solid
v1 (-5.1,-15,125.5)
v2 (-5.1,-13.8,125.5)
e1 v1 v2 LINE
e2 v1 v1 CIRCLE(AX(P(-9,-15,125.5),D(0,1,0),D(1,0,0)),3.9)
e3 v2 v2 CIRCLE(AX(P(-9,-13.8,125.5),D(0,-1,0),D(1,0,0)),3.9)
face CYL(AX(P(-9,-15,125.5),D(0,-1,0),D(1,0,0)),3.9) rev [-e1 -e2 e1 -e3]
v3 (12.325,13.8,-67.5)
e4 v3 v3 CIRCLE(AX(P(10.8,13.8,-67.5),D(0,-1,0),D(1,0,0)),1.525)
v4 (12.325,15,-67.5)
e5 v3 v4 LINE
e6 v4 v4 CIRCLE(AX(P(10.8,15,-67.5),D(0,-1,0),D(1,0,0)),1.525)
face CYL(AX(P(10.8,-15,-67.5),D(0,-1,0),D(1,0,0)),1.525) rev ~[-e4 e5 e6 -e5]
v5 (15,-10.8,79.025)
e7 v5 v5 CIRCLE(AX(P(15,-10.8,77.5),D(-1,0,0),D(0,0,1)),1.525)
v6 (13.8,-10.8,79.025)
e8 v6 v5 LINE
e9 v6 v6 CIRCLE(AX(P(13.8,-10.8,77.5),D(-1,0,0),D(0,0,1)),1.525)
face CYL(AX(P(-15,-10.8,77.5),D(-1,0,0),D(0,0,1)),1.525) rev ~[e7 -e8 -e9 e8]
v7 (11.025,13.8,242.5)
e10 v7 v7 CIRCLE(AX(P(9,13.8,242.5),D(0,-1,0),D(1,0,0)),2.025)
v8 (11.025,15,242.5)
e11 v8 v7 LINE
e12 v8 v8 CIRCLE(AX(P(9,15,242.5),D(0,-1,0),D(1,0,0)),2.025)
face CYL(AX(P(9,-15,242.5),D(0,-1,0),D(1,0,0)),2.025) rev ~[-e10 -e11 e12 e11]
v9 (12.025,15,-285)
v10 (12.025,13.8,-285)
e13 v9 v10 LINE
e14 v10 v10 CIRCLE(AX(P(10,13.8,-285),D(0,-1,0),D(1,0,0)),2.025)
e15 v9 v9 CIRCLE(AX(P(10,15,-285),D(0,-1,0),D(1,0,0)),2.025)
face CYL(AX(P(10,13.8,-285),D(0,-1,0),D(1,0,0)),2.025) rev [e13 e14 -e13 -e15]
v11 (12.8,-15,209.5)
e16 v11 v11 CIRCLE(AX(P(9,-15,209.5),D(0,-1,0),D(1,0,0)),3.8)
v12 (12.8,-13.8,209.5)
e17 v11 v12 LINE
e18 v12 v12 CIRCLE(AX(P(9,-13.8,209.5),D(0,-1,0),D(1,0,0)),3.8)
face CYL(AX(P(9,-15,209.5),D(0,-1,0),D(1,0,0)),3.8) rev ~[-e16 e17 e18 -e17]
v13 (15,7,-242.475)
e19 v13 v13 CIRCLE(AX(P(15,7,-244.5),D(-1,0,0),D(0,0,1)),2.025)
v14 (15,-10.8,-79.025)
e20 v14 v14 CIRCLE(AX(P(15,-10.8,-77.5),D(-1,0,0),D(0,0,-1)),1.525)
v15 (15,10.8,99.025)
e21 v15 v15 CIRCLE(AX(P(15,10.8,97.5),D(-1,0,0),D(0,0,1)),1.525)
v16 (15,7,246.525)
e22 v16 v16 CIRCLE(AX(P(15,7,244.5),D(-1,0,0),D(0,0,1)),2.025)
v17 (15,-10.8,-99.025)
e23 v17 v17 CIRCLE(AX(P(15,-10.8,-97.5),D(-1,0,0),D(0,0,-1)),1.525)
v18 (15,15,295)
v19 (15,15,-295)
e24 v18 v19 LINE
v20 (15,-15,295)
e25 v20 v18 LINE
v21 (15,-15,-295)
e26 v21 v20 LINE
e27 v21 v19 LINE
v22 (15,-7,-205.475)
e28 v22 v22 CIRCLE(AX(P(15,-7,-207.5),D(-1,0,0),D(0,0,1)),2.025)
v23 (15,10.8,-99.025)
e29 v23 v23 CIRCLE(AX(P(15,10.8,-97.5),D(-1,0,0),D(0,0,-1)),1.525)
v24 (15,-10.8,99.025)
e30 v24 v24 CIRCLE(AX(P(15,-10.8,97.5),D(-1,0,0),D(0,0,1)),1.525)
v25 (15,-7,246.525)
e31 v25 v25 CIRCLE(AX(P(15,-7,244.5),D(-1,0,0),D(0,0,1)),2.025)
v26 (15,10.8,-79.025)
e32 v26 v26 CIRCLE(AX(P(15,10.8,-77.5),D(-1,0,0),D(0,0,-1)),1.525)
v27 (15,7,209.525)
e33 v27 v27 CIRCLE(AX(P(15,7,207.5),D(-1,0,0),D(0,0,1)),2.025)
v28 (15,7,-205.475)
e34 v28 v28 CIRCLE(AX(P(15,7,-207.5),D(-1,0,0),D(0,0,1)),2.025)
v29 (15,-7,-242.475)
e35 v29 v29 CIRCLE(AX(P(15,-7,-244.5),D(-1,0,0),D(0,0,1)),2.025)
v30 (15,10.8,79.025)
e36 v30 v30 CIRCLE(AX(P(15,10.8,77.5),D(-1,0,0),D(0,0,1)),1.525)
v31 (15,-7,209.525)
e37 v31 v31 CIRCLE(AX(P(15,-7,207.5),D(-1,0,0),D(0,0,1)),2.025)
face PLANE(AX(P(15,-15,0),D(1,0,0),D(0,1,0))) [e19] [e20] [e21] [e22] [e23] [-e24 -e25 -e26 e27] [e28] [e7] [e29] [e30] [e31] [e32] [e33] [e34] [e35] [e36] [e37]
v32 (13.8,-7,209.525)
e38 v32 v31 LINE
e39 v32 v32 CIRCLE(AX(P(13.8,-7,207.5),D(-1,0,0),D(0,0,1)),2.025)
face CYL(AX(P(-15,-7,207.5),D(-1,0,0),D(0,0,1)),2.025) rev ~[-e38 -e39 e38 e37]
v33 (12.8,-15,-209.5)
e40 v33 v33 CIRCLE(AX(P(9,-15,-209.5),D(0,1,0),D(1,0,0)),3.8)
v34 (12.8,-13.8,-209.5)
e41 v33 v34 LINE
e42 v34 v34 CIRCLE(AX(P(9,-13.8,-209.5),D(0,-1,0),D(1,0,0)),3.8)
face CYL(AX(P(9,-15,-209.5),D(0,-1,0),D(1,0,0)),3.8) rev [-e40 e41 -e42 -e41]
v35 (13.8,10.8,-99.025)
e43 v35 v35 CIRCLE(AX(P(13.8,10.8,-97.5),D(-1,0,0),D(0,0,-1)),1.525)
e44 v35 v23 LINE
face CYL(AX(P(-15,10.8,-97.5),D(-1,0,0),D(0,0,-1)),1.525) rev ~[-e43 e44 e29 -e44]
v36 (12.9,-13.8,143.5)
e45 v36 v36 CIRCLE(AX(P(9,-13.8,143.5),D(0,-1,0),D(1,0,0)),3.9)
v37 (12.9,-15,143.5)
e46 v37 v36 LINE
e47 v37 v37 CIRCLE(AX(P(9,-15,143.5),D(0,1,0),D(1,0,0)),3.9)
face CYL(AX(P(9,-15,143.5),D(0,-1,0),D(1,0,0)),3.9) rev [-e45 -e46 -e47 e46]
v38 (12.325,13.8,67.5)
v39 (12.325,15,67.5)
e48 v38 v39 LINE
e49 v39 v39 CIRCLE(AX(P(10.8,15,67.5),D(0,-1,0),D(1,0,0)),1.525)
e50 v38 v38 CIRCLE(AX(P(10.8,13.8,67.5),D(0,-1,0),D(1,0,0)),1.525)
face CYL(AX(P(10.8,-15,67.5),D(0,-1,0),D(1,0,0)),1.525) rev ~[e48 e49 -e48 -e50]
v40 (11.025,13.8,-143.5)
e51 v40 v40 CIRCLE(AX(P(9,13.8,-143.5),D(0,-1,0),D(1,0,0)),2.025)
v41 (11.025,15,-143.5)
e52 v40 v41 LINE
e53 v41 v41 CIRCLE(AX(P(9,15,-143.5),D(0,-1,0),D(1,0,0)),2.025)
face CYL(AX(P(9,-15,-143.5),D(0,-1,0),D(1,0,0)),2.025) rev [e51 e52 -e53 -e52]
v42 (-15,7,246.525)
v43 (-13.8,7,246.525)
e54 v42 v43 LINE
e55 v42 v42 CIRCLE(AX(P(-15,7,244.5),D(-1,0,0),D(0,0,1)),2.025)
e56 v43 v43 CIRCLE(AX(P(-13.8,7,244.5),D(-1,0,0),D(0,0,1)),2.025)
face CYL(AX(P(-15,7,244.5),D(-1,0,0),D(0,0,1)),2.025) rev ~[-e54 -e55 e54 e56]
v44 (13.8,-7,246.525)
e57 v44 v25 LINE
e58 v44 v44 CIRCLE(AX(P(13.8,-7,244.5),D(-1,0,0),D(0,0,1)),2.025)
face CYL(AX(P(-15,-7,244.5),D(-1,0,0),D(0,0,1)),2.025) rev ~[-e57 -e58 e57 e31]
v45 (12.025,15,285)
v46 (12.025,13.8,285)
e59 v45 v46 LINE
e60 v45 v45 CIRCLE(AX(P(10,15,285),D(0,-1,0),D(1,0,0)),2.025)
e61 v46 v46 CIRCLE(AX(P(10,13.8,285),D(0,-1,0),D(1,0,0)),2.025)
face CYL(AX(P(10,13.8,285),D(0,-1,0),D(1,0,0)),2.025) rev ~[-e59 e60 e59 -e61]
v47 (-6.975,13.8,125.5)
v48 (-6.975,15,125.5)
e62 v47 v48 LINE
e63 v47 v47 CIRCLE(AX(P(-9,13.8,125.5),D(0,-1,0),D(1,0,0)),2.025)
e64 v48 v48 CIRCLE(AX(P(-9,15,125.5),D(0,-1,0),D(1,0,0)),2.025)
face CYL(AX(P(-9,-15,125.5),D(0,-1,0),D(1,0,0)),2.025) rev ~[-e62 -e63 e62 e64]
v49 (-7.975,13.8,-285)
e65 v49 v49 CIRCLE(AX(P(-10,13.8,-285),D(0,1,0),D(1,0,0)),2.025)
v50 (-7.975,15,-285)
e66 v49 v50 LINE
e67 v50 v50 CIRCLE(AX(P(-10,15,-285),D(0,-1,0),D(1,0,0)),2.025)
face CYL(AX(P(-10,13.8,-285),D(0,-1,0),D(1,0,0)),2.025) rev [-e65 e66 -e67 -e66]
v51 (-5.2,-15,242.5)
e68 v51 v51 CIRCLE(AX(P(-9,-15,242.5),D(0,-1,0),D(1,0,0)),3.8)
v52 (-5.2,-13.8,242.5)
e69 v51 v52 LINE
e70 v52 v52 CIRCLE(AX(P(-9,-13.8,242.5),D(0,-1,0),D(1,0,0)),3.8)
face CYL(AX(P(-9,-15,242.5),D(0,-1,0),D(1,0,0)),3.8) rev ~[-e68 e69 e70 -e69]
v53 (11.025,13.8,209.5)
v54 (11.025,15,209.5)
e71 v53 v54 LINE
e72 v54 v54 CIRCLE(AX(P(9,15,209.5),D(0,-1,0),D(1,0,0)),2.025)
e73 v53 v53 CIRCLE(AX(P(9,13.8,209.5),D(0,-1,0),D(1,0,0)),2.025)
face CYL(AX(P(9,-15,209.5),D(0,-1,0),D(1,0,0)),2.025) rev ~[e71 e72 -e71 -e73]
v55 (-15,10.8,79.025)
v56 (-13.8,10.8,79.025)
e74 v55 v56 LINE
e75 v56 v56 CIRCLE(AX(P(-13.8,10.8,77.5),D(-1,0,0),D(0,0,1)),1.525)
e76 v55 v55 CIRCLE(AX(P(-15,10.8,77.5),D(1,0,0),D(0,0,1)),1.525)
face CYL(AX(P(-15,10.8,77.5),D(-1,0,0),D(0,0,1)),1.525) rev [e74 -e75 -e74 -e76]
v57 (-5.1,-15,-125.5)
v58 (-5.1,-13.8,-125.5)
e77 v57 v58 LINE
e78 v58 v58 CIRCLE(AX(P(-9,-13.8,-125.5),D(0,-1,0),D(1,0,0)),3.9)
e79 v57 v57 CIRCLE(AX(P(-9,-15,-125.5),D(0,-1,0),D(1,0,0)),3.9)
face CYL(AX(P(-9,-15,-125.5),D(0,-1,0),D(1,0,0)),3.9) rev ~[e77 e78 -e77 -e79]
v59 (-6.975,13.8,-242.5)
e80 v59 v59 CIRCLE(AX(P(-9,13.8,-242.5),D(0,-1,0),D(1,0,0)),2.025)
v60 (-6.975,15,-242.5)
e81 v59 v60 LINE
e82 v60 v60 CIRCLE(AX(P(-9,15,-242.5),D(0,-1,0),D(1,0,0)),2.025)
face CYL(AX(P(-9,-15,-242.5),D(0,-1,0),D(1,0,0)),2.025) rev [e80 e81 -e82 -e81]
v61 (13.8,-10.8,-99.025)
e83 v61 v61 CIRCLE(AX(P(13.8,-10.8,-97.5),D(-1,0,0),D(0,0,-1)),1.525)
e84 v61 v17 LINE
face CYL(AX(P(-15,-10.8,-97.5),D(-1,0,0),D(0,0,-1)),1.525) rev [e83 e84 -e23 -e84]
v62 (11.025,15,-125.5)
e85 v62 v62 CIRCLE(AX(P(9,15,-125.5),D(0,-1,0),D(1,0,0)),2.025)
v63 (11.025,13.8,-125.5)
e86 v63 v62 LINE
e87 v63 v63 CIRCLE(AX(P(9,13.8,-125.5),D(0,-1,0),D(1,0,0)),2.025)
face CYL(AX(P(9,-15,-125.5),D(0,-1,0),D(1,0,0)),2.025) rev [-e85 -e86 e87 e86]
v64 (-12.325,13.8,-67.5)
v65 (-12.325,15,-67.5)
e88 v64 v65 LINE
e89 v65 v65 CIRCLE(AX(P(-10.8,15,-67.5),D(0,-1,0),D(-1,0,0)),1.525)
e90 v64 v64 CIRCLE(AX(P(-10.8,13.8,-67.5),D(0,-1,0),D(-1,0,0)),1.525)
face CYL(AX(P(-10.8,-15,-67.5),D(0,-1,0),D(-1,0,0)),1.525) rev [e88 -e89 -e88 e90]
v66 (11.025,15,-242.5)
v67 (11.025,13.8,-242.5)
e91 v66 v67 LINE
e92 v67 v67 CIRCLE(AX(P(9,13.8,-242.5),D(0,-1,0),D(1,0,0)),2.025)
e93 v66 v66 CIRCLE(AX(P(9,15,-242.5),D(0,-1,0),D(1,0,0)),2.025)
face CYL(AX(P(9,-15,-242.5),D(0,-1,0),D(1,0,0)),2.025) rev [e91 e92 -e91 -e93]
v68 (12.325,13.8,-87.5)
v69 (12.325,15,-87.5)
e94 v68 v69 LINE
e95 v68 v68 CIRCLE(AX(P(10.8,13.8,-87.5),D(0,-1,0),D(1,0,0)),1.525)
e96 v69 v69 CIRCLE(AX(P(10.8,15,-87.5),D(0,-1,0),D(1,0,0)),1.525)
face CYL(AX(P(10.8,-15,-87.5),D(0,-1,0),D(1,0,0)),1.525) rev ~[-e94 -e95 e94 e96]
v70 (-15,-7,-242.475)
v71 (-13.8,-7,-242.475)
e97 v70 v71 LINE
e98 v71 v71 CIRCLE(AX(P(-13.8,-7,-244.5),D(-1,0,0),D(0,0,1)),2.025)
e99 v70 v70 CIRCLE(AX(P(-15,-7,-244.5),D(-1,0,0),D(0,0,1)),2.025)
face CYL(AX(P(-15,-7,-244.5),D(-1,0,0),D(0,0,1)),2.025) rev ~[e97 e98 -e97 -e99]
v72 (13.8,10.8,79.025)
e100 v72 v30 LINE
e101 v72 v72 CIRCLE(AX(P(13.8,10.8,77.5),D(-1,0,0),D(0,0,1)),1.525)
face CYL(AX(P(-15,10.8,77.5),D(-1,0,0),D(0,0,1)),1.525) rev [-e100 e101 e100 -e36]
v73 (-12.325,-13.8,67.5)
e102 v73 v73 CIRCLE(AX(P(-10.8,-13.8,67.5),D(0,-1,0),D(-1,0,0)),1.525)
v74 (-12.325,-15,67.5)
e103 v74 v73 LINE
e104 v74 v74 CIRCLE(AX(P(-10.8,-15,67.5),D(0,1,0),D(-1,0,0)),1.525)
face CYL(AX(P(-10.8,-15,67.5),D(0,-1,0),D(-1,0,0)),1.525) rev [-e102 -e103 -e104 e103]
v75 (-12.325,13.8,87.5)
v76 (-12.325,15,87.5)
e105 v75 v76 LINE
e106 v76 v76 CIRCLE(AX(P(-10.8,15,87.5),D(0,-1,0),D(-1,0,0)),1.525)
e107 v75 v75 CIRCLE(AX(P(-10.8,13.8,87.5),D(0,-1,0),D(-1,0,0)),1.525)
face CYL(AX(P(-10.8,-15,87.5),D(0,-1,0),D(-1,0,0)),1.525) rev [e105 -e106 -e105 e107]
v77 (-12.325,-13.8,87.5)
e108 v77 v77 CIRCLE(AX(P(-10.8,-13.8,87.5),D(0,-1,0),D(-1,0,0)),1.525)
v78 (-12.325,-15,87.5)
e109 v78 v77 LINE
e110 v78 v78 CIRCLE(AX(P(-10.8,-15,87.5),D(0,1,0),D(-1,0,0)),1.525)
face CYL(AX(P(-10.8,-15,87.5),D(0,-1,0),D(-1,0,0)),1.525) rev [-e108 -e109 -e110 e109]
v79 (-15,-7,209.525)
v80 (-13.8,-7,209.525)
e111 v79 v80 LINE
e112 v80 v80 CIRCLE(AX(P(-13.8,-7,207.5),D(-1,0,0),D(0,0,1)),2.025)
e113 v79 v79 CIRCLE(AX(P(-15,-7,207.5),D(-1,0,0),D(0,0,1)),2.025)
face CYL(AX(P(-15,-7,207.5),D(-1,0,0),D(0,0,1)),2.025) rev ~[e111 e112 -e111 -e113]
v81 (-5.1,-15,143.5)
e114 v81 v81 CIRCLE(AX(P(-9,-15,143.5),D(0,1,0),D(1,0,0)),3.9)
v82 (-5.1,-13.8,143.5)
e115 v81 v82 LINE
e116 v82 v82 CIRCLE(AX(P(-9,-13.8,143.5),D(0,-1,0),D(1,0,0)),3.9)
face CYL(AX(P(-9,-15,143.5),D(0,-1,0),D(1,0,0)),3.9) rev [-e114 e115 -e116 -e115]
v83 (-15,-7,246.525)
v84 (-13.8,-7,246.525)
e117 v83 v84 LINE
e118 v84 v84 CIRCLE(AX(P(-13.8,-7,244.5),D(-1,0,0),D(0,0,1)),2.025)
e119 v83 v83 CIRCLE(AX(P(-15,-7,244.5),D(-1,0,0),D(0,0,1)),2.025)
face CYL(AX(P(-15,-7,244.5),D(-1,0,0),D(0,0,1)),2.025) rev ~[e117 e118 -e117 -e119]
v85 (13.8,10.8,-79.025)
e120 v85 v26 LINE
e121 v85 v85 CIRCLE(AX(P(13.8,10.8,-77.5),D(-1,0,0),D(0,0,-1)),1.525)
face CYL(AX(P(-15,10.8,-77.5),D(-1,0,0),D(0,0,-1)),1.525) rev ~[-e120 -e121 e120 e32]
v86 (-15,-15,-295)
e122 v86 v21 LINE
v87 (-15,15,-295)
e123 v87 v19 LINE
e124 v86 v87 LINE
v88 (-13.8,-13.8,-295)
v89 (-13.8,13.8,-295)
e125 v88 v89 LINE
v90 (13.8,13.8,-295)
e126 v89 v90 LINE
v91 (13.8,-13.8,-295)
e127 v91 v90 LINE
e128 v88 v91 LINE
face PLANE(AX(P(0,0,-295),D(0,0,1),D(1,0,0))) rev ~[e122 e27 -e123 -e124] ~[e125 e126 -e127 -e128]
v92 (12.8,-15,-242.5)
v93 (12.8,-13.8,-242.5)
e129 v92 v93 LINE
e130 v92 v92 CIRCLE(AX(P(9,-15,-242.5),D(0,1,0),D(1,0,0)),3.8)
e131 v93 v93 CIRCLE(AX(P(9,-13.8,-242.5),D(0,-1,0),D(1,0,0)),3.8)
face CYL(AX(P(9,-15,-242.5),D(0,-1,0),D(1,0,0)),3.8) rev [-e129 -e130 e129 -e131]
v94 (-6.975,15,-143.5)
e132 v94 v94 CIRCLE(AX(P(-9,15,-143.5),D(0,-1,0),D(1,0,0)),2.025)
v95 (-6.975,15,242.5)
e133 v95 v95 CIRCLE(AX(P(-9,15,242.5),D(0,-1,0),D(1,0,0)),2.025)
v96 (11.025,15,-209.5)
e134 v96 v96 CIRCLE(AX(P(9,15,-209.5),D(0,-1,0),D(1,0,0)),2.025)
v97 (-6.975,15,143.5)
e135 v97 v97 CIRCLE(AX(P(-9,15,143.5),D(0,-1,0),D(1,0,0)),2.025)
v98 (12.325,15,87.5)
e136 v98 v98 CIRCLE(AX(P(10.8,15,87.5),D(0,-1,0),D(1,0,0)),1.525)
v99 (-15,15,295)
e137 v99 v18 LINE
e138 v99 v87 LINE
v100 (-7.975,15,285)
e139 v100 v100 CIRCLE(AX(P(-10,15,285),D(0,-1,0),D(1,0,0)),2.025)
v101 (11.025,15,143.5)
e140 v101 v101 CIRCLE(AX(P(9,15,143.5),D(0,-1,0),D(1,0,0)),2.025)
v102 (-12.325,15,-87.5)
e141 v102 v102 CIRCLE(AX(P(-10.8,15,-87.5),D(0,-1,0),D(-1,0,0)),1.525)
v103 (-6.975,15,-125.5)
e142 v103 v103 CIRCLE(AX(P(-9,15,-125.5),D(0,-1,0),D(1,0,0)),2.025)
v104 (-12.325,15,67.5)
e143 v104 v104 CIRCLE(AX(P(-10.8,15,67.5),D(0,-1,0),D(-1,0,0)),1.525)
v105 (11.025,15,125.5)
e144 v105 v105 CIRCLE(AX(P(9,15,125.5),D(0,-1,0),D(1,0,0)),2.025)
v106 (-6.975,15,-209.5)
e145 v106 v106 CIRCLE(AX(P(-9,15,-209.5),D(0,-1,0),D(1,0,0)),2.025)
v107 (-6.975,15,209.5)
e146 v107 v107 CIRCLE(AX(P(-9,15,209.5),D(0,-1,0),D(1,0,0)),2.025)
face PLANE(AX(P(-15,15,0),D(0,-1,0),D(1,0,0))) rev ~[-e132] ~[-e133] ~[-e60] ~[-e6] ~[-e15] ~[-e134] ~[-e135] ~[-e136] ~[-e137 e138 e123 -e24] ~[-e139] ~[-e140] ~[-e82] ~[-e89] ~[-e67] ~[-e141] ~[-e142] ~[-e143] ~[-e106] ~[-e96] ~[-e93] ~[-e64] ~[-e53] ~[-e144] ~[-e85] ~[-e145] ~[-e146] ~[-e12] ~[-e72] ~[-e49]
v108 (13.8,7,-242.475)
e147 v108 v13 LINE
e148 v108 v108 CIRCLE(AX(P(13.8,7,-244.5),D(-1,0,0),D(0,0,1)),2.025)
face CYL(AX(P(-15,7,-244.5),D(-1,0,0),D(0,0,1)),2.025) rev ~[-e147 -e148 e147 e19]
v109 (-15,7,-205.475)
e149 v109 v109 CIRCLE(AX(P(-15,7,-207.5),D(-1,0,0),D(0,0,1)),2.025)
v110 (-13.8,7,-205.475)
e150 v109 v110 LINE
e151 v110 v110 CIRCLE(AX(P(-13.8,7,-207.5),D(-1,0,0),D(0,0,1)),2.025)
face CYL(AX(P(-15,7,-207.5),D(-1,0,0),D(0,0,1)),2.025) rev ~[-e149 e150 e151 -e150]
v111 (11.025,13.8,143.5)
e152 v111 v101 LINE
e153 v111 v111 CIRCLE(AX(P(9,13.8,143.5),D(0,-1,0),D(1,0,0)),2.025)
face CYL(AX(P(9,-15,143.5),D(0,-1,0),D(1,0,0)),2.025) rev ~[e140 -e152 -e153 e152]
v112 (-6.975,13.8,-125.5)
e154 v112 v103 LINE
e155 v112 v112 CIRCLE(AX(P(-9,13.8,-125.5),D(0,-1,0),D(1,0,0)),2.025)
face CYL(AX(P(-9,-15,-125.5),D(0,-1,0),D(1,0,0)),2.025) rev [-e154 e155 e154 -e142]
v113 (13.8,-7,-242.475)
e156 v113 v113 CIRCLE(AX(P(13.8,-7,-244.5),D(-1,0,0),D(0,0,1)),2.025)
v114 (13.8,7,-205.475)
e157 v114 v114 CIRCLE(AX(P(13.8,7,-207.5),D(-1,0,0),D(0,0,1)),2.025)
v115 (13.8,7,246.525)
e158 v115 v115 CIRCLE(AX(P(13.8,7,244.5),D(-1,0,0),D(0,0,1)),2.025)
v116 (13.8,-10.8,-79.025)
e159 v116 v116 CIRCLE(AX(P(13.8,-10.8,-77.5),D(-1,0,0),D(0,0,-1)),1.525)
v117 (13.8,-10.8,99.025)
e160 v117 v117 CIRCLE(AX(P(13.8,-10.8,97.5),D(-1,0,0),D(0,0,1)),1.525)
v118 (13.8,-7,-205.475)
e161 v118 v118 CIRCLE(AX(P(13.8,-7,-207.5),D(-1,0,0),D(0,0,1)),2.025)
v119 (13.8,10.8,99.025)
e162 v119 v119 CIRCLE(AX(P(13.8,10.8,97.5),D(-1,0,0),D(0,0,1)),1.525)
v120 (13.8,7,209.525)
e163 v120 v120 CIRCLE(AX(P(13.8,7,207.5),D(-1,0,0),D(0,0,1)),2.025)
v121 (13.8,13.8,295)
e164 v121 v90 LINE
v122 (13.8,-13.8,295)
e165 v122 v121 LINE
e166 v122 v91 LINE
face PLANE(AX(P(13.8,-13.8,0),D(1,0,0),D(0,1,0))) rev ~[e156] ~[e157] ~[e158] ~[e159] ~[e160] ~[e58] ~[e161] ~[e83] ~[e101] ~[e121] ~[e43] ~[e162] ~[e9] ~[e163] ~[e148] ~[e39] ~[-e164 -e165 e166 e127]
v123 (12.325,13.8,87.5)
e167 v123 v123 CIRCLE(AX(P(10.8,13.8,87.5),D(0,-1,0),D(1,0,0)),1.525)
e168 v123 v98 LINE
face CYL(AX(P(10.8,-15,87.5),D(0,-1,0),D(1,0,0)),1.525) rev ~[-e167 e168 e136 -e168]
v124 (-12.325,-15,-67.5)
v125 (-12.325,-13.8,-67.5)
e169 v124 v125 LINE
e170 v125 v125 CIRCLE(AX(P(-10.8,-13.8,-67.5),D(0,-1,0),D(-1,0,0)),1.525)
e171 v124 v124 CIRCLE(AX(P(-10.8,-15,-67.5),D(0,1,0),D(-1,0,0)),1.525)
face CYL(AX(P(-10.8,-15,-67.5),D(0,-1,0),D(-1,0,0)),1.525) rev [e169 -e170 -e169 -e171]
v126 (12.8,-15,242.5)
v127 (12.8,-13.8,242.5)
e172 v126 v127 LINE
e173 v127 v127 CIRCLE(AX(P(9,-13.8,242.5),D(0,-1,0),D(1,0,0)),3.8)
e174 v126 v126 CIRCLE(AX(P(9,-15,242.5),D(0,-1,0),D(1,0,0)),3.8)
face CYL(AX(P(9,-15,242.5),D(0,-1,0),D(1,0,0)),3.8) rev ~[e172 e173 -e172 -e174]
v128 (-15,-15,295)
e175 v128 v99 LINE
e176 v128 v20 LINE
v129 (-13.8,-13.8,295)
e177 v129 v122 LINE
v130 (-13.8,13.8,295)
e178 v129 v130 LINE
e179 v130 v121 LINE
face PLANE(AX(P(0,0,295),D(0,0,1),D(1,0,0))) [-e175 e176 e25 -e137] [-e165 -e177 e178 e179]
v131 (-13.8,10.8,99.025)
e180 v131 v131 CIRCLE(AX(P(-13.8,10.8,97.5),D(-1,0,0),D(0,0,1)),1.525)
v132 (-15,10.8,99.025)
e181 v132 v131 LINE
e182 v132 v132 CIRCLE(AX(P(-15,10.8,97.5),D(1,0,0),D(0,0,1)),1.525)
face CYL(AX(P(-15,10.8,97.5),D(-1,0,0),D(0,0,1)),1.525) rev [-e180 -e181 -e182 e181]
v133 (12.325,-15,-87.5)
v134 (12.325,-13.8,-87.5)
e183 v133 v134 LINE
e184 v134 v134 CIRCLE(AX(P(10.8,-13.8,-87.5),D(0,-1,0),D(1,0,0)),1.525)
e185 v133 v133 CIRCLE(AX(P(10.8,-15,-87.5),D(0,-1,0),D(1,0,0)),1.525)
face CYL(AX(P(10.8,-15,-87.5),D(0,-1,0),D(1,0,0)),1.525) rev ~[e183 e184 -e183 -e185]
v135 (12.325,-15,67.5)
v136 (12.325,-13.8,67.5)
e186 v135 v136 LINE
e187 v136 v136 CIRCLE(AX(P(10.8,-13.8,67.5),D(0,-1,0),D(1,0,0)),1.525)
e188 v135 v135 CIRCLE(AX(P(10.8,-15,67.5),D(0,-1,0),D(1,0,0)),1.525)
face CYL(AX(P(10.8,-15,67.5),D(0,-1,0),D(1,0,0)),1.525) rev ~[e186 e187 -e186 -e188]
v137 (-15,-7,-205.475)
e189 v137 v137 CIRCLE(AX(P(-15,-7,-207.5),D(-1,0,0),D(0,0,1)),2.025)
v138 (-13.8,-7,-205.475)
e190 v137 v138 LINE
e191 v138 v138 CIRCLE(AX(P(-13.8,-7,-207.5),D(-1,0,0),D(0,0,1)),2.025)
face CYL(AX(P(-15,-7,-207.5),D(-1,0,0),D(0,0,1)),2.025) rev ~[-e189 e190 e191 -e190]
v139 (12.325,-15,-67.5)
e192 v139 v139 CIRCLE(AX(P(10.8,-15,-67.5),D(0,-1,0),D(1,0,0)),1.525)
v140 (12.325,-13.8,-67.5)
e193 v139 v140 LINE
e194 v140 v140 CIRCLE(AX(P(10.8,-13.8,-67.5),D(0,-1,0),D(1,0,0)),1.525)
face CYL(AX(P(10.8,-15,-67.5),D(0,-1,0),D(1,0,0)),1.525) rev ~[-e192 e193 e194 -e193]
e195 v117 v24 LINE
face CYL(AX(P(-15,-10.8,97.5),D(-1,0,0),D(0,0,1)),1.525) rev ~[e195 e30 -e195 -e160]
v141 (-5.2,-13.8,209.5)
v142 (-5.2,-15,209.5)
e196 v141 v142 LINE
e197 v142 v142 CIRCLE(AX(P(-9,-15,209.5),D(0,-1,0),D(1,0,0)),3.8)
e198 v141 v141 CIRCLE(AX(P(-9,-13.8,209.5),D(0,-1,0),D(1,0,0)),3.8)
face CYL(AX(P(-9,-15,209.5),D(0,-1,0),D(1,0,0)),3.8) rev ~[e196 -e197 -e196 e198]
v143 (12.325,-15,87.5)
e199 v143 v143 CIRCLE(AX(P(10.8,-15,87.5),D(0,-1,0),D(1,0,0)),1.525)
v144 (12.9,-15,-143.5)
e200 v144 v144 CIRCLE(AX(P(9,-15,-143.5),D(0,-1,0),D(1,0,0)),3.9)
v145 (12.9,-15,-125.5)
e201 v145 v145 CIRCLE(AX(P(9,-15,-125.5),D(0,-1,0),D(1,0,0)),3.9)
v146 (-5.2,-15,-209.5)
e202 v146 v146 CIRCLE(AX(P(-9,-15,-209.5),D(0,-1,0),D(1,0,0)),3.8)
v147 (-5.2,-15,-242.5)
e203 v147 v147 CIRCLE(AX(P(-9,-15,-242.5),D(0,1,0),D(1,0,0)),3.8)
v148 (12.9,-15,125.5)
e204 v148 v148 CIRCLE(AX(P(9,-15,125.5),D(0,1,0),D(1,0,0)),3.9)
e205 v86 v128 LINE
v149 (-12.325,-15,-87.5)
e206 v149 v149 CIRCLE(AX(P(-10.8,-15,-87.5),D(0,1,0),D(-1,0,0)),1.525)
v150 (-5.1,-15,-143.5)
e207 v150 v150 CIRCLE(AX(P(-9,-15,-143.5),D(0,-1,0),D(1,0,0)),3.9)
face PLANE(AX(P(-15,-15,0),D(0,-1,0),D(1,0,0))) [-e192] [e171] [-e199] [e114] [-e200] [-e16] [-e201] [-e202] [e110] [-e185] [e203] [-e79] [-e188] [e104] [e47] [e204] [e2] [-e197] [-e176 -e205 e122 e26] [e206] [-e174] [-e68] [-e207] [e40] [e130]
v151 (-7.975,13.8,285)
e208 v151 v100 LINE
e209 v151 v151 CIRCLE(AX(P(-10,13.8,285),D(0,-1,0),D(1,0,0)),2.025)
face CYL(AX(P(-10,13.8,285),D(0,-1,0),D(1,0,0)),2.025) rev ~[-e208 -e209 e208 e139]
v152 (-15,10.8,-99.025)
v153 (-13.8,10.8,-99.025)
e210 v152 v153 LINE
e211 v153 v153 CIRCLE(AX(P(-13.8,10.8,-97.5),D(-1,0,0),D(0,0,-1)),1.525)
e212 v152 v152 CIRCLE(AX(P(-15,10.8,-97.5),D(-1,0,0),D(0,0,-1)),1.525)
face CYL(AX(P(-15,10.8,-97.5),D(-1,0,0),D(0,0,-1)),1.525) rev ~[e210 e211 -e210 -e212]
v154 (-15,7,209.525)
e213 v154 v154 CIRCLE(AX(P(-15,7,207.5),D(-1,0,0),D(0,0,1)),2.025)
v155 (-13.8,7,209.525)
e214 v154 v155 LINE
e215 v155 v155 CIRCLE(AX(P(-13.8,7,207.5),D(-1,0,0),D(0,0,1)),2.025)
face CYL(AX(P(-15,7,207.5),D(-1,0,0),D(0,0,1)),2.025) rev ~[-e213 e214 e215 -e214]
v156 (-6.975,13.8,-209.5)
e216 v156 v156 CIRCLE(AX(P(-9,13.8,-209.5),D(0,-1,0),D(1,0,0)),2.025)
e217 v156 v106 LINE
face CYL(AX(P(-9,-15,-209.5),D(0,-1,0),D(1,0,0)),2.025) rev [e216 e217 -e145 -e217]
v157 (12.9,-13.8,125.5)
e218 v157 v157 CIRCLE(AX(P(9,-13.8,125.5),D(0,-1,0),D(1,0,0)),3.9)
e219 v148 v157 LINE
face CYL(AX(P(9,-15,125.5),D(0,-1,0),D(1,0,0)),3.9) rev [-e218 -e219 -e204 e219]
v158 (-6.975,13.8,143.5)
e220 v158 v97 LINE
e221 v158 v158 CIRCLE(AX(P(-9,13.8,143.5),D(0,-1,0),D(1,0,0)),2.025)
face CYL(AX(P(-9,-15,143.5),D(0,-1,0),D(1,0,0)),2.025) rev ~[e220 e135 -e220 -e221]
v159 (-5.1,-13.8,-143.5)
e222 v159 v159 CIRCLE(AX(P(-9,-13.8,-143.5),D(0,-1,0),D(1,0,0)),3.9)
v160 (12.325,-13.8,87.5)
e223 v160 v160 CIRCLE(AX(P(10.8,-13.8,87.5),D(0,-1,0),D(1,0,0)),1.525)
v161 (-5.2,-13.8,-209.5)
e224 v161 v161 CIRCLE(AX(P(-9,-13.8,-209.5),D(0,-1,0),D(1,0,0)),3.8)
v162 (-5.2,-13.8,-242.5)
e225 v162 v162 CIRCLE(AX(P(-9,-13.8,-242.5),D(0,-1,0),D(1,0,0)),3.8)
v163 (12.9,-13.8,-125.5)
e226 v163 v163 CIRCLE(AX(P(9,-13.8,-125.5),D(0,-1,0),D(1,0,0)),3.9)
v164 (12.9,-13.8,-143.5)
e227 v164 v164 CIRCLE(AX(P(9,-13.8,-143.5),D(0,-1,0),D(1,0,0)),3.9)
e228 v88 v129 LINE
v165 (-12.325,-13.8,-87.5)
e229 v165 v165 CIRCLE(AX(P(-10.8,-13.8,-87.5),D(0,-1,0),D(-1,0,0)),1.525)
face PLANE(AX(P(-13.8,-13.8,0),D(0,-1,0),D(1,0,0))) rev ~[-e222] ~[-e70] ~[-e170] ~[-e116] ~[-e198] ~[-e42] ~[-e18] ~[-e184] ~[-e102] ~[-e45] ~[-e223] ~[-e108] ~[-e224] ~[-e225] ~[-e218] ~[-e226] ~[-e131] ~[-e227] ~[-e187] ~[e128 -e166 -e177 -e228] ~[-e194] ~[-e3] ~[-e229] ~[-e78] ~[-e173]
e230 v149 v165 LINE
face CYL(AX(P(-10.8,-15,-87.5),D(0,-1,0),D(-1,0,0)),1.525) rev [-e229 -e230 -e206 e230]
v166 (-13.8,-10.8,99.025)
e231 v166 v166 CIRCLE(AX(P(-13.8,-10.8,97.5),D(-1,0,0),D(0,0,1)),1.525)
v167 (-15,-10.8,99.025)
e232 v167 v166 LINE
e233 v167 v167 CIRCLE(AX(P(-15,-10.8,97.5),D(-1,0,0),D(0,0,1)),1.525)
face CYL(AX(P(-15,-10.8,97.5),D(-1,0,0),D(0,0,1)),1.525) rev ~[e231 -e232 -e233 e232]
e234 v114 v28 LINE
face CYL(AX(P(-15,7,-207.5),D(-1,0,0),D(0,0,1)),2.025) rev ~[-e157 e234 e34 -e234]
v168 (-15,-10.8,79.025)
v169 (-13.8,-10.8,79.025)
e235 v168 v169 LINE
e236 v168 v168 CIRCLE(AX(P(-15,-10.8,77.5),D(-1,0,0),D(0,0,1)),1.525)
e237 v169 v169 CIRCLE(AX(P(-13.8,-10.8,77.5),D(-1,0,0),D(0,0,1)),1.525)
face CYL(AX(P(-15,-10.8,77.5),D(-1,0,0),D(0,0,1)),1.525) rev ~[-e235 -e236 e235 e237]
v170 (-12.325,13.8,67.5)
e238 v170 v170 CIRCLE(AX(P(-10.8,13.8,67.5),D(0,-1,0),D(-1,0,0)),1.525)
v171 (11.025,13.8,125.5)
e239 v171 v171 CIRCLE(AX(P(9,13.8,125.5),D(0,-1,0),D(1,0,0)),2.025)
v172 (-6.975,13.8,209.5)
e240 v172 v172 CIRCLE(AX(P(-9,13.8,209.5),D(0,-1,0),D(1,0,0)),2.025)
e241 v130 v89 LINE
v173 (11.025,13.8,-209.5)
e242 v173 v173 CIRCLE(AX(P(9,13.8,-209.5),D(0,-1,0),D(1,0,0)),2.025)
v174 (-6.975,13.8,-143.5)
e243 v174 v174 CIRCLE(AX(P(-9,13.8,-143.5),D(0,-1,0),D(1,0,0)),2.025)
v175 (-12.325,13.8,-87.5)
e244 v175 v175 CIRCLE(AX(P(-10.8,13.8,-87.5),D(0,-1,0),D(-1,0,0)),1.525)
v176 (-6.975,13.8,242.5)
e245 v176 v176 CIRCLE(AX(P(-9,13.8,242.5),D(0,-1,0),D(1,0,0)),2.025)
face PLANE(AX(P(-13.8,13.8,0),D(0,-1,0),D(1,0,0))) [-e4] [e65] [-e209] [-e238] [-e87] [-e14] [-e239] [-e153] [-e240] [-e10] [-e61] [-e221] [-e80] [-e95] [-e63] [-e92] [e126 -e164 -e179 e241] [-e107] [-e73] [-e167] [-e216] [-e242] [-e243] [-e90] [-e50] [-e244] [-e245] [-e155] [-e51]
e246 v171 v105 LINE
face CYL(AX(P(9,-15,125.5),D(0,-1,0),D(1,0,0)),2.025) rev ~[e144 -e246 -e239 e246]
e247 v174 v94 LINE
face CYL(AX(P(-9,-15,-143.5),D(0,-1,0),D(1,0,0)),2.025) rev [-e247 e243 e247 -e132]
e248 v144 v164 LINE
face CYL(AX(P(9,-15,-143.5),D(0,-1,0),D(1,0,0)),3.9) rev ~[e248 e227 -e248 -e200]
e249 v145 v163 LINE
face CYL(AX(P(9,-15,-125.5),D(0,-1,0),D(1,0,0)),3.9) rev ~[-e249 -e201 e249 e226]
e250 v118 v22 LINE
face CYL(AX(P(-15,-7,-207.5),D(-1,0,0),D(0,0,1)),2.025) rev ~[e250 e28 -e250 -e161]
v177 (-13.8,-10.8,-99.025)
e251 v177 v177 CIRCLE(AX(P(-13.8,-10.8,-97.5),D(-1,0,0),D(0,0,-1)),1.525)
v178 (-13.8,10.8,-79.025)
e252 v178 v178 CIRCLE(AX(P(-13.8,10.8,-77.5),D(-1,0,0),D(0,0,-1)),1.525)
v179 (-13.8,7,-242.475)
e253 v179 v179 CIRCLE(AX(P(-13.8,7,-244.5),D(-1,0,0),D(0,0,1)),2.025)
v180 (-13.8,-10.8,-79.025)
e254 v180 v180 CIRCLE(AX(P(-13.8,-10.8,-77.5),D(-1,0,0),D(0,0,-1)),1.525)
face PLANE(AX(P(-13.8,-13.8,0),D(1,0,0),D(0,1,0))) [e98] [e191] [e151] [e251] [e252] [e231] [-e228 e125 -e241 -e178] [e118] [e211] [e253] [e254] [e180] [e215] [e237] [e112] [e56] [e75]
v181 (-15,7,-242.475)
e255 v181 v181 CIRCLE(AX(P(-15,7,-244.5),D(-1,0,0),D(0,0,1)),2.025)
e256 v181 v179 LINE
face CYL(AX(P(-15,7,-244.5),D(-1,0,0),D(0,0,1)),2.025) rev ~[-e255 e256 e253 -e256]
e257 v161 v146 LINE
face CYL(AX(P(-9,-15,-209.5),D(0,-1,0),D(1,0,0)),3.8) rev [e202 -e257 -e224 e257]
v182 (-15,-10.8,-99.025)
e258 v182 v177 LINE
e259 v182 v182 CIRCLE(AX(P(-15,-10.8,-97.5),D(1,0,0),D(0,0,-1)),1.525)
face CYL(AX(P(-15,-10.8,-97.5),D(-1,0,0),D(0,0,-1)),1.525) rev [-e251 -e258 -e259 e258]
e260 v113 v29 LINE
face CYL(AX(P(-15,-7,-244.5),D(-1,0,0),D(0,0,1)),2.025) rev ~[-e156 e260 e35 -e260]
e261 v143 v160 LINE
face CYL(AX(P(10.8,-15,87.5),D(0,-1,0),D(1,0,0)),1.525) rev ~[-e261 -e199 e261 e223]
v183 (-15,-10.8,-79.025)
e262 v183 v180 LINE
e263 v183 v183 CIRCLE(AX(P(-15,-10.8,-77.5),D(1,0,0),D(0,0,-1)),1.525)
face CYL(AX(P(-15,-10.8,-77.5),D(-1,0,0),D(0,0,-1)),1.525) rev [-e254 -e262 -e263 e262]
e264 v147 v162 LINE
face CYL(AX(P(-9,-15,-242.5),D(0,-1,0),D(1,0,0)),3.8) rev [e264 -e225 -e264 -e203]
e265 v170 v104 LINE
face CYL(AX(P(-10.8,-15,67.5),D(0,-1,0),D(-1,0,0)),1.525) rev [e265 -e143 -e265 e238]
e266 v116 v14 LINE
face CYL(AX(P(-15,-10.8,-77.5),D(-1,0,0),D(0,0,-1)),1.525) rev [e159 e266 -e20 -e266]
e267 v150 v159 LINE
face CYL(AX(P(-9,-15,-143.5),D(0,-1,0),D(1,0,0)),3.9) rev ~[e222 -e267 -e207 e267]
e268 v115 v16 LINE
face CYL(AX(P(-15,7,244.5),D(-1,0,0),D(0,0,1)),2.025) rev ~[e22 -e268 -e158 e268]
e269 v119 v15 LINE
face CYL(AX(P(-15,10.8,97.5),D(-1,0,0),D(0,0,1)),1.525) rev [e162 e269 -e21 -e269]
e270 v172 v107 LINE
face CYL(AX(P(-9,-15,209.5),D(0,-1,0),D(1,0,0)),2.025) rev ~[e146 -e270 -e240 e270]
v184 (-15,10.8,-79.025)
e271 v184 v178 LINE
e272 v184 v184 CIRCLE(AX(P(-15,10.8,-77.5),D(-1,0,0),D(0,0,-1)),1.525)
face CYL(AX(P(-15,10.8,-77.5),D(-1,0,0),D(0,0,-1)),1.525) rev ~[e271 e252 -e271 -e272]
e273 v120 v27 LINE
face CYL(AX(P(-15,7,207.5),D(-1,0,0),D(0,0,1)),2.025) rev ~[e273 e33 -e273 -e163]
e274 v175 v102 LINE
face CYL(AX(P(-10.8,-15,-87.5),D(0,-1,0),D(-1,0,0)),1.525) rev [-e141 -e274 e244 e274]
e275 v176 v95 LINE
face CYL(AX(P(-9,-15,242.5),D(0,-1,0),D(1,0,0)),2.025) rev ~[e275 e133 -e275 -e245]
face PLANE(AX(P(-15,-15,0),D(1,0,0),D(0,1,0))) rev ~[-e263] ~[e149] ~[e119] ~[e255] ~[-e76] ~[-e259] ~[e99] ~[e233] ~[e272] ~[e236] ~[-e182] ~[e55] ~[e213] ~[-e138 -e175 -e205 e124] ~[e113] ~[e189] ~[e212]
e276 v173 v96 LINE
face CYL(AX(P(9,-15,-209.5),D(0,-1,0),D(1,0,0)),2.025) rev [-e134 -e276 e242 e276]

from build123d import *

# Parameters (mm, degrees)
SKETCH_1_W               = 30
SKETCH_1_H               = 30
SKETCH_1_W_2             = 27.6
SKETCH_1_H_2             = 27.6
EXTRUDE_1_DEPTH          = 295
SKETCH_2_R               = 2.025
CUT_EXTRUDE_1_DEPTH      = 35
SKETCH_3_R               = 3.8
CUT_EXTRUDE_2_DEPTH      = 5
SKETCH_4_R               = 2.025
CUT_EXTRUDE_3_DEPTH      = 5
SKETCH_5_R               = 1.525
CUT_EXTRUDE_4_DEPTH      = 50
SKETCH_6_R               = 2.025
CUT_EXTRUDE_5_DEPTH      = 30
SKETCH_7_R               = 2.025
CUT_EXTRUDE_6_DEPTH      = 90
SKETCH_8_R               = 3.9
CUT_EXTRUDE_7_DEPTH      = 10
SKETCH_9_R               = 1.525
CUT_EXTRUDE_8_DEPTH      = 50
MIRROR_8_COPY_1_SKETCH_R = 1.525
MIRROR_8_COPY_1_DEPTH    = 50


with BuildPart() as part:
    # 草图1 → 凸台-拉伸1 (new body, symmetric)
    with BuildSketch(Plane.XY):
        Rectangle(SKETCH_1_W, SKETCH_1_H)
        Rectangle(SKETCH_1_W_2, SKETCH_1_H_2, mode=Mode.SUBTRACT)
    extrude(amount=EXTRUDE_1_DEPTH, both=True)

    # 草图2 → 切除-拉伸1 (cut, symmetric)
    with BuildSketch(Plane.XZ.offset(15)):
        with Locations((-9, 209.5)):
            Circle(SKETCH_2_R)
        with Locations((9, 209.5)):
            Circle(SKETCH_2_R)
        with Locations((-9, 242.5)):
            Circle(SKETCH_2_R)
        with Locations((9, 242.5)):
            Circle(SKETCH_2_R)
    cut_extrude_1 = extrude(amount=CUT_EXTRUDE_1_DEPTH, both=True, mode=Mode.SUBTRACT)

    # 镜向1: 切除-拉伸1 across plane
    add(cut_extrude_1.mirror(Plane.XY), mode=Mode.SUBTRACT)

    # 草图3 → 切除-拉伸2 (cut, symmetric)
    with BuildSketch(Plane.XZ.offset(15)):
        with Locations((9, 242.5)):
            Circle(SKETCH_3_R)
        with Locations((9, 209.5)):
            Circle(SKETCH_3_R)
        with Locations((-9, 242.5)):
            Circle(SKETCH_3_R)
        with Locations((-9, 209.5)):
            Circle(SKETCH_3_R)
    cut_extrude_2 = extrude(amount=CUT_EXTRUDE_2_DEPTH, both=True, mode=Mode.SUBTRACT)

    # 镜向2: 切除-拉伸2 across plane
    add(cut_extrude_2.mirror(Plane.XY), mode=Mode.SUBTRACT)

    # 草图4 → 切除-拉伸3 (cut, symmetric)
    with BuildSketch(Plane.XZ.offset(-13.8)):
        with Locations((-10, 285)):
            Circle(SKETCH_4_R)
        with Locations((10, 285)):
            Circle(SKETCH_4_R)
    cut_extrude_3 = extrude(amount=CUT_EXTRUDE_3_DEPTH, both=True, mode=Mode.SUBTRACT)

    # 镜向3: 切除-拉伸3 across plane
    add(cut_extrude_3.mirror(Plane.XY), mode=Mode.SUBTRACT)

    # 草图5 → 切除-拉伸4 (cut)
    with BuildSketch(Plane.XZ.offset(15)):
        with Locations((10.8, 67.5)):
            Circle(SKETCH_5_R)
        with Locations((10.8, 87.5)):
            Circle(SKETCH_5_R)
        with Locations((10.8, -87.5)):
            Circle(SKETCH_5_R)
        with Locations((10.8, -67.5)):
            Circle(SKETCH_5_R)
    cut_extrude_4 = extrude(amount=-CUT_EXTRUDE_4_DEPTH, mode=Mode.SUBTRACT)

    # 镜向4: 切除-拉伸4 across plane
    add(cut_extrude_4.mirror(Plane(origin=(0, 0, 0), x_dir=(0, 0, 1), z_dir=(1, 0, 0))), mode=Mode.SUBTRACT)

    # 草图6 → 切除-拉伸5 (cut)
    with BuildSketch(Plane.ZY.offset(15)):
        with Locations((244.5, 7)):
            Circle(SKETCH_6_R)
        with Locations((207.5, 7)):
            Circle(SKETCH_6_R)
        with Locations((207.5, -7)):
            Circle(SKETCH_6_R)
        with Locations((244.5, -7)):
            Circle(SKETCH_6_R)
        with Locations((-244.5, -7)):
            Circle(SKETCH_6_R)
        with Locations((-207.5, -7)):
            Circle(SKETCH_6_R)
        with Locations((-207.5, 7)):
            Circle(SKETCH_6_R)
        with Locations((-244.5, 7)):
            Circle(SKETCH_6_R)
    extrude(amount=-CUT_EXTRUDE_5_DEPTH, mode=Mode.SUBTRACT)

    # 草图7 → 切除-拉伸6 (cut)
    with BuildSketch(Plane.XZ.offset(15)):
        with Locations((-9, 143.5)):
            Circle(SKETCH_7_R)
        with Locations((-9, 125.5)):
            Circle(SKETCH_7_R)
        with Locations((9, 125.5)):
            Circle(SKETCH_7_R)
        with Locations((9, 143.5)):
            Circle(SKETCH_7_R)
    cut_extrude_6 = extrude(amount=-CUT_EXTRUDE_6_DEPTH, mode=Mode.SUBTRACT)

    # 镜向5: 切除-拉伸6 across plane
    add(cut_extrude_6.mirror(Plane.XY), mode=Mode.SUBTRACT)

    # 草图8 → 切除-拉伸7 (cut)
    with BuildSketch(Plane.XZ.offset(15)):
        with Locations((-9, -125.5)):
            Circle(SKETCH_8_R)
        with Locations((-9, -143.5)):
            Circle(SKETCH_8_R)
        with Locations((9, -143.5)):
            Circle(SKETCH_8_R)
        with Locations((9, -125.5)):
            Circle(SKETCH_8_R)
    cut_extrude_7 = extrude(amount=-CUT_EXTRUDE_7_DEPTH, mode=Mode.SUBTRACT)

    # 镜向6: 切除-拉伸7 across plane
    add(cut_extrude_7.mirror(Plane.XY), mode=Mode.SUBTRACT)

    # 草图9 → 切除-拉伸8 (cut)
    with BuildSketch(Plane.ZY.offset(15)):
        with Locations((97.5, -10.8)):
            Circle(SKETCH_9_R)
        with Locations((77.5, -10.8)):
            Circle(SKETCH_9_R)
    cut_extrude_8 = extrude(amount=-CUT_EXTRUDE_8_DEPTH, mode=Mode.SUBTRACT)

    # 镜向7: 切除-拉伸8 across plane
    add(cut_extrude_8.mirror(Plane.XY), mode=Mode.SUBTRACT)

    # 镜向8: 切除-拉伸8 across plane
    add(cut_extrude_8.mirror(Plane.ZX), mode=Mode.SUBTRACT)

    # 镜向8 copy 1 sketch → 镜向8 copy 1 (cut)
    with BuildSketch(Plane(origin=(-15, 0, 0), x_dir=(0, 0, -1), z_dir=(-1, 0, 0))):
        with Locations((97.5, -10.8)):
            Circle(MIRROR_8_COPY_1_SKETCH_R)
        with Locations((77.5, -10.8)):
            Circle(MIRROR_8_COPY_1_SKETCH_R)
    extrude(amount=-MIRROR_8_COPY_1_DEPTH, mode=Mode.SUBTRACT)


solid = part.part
